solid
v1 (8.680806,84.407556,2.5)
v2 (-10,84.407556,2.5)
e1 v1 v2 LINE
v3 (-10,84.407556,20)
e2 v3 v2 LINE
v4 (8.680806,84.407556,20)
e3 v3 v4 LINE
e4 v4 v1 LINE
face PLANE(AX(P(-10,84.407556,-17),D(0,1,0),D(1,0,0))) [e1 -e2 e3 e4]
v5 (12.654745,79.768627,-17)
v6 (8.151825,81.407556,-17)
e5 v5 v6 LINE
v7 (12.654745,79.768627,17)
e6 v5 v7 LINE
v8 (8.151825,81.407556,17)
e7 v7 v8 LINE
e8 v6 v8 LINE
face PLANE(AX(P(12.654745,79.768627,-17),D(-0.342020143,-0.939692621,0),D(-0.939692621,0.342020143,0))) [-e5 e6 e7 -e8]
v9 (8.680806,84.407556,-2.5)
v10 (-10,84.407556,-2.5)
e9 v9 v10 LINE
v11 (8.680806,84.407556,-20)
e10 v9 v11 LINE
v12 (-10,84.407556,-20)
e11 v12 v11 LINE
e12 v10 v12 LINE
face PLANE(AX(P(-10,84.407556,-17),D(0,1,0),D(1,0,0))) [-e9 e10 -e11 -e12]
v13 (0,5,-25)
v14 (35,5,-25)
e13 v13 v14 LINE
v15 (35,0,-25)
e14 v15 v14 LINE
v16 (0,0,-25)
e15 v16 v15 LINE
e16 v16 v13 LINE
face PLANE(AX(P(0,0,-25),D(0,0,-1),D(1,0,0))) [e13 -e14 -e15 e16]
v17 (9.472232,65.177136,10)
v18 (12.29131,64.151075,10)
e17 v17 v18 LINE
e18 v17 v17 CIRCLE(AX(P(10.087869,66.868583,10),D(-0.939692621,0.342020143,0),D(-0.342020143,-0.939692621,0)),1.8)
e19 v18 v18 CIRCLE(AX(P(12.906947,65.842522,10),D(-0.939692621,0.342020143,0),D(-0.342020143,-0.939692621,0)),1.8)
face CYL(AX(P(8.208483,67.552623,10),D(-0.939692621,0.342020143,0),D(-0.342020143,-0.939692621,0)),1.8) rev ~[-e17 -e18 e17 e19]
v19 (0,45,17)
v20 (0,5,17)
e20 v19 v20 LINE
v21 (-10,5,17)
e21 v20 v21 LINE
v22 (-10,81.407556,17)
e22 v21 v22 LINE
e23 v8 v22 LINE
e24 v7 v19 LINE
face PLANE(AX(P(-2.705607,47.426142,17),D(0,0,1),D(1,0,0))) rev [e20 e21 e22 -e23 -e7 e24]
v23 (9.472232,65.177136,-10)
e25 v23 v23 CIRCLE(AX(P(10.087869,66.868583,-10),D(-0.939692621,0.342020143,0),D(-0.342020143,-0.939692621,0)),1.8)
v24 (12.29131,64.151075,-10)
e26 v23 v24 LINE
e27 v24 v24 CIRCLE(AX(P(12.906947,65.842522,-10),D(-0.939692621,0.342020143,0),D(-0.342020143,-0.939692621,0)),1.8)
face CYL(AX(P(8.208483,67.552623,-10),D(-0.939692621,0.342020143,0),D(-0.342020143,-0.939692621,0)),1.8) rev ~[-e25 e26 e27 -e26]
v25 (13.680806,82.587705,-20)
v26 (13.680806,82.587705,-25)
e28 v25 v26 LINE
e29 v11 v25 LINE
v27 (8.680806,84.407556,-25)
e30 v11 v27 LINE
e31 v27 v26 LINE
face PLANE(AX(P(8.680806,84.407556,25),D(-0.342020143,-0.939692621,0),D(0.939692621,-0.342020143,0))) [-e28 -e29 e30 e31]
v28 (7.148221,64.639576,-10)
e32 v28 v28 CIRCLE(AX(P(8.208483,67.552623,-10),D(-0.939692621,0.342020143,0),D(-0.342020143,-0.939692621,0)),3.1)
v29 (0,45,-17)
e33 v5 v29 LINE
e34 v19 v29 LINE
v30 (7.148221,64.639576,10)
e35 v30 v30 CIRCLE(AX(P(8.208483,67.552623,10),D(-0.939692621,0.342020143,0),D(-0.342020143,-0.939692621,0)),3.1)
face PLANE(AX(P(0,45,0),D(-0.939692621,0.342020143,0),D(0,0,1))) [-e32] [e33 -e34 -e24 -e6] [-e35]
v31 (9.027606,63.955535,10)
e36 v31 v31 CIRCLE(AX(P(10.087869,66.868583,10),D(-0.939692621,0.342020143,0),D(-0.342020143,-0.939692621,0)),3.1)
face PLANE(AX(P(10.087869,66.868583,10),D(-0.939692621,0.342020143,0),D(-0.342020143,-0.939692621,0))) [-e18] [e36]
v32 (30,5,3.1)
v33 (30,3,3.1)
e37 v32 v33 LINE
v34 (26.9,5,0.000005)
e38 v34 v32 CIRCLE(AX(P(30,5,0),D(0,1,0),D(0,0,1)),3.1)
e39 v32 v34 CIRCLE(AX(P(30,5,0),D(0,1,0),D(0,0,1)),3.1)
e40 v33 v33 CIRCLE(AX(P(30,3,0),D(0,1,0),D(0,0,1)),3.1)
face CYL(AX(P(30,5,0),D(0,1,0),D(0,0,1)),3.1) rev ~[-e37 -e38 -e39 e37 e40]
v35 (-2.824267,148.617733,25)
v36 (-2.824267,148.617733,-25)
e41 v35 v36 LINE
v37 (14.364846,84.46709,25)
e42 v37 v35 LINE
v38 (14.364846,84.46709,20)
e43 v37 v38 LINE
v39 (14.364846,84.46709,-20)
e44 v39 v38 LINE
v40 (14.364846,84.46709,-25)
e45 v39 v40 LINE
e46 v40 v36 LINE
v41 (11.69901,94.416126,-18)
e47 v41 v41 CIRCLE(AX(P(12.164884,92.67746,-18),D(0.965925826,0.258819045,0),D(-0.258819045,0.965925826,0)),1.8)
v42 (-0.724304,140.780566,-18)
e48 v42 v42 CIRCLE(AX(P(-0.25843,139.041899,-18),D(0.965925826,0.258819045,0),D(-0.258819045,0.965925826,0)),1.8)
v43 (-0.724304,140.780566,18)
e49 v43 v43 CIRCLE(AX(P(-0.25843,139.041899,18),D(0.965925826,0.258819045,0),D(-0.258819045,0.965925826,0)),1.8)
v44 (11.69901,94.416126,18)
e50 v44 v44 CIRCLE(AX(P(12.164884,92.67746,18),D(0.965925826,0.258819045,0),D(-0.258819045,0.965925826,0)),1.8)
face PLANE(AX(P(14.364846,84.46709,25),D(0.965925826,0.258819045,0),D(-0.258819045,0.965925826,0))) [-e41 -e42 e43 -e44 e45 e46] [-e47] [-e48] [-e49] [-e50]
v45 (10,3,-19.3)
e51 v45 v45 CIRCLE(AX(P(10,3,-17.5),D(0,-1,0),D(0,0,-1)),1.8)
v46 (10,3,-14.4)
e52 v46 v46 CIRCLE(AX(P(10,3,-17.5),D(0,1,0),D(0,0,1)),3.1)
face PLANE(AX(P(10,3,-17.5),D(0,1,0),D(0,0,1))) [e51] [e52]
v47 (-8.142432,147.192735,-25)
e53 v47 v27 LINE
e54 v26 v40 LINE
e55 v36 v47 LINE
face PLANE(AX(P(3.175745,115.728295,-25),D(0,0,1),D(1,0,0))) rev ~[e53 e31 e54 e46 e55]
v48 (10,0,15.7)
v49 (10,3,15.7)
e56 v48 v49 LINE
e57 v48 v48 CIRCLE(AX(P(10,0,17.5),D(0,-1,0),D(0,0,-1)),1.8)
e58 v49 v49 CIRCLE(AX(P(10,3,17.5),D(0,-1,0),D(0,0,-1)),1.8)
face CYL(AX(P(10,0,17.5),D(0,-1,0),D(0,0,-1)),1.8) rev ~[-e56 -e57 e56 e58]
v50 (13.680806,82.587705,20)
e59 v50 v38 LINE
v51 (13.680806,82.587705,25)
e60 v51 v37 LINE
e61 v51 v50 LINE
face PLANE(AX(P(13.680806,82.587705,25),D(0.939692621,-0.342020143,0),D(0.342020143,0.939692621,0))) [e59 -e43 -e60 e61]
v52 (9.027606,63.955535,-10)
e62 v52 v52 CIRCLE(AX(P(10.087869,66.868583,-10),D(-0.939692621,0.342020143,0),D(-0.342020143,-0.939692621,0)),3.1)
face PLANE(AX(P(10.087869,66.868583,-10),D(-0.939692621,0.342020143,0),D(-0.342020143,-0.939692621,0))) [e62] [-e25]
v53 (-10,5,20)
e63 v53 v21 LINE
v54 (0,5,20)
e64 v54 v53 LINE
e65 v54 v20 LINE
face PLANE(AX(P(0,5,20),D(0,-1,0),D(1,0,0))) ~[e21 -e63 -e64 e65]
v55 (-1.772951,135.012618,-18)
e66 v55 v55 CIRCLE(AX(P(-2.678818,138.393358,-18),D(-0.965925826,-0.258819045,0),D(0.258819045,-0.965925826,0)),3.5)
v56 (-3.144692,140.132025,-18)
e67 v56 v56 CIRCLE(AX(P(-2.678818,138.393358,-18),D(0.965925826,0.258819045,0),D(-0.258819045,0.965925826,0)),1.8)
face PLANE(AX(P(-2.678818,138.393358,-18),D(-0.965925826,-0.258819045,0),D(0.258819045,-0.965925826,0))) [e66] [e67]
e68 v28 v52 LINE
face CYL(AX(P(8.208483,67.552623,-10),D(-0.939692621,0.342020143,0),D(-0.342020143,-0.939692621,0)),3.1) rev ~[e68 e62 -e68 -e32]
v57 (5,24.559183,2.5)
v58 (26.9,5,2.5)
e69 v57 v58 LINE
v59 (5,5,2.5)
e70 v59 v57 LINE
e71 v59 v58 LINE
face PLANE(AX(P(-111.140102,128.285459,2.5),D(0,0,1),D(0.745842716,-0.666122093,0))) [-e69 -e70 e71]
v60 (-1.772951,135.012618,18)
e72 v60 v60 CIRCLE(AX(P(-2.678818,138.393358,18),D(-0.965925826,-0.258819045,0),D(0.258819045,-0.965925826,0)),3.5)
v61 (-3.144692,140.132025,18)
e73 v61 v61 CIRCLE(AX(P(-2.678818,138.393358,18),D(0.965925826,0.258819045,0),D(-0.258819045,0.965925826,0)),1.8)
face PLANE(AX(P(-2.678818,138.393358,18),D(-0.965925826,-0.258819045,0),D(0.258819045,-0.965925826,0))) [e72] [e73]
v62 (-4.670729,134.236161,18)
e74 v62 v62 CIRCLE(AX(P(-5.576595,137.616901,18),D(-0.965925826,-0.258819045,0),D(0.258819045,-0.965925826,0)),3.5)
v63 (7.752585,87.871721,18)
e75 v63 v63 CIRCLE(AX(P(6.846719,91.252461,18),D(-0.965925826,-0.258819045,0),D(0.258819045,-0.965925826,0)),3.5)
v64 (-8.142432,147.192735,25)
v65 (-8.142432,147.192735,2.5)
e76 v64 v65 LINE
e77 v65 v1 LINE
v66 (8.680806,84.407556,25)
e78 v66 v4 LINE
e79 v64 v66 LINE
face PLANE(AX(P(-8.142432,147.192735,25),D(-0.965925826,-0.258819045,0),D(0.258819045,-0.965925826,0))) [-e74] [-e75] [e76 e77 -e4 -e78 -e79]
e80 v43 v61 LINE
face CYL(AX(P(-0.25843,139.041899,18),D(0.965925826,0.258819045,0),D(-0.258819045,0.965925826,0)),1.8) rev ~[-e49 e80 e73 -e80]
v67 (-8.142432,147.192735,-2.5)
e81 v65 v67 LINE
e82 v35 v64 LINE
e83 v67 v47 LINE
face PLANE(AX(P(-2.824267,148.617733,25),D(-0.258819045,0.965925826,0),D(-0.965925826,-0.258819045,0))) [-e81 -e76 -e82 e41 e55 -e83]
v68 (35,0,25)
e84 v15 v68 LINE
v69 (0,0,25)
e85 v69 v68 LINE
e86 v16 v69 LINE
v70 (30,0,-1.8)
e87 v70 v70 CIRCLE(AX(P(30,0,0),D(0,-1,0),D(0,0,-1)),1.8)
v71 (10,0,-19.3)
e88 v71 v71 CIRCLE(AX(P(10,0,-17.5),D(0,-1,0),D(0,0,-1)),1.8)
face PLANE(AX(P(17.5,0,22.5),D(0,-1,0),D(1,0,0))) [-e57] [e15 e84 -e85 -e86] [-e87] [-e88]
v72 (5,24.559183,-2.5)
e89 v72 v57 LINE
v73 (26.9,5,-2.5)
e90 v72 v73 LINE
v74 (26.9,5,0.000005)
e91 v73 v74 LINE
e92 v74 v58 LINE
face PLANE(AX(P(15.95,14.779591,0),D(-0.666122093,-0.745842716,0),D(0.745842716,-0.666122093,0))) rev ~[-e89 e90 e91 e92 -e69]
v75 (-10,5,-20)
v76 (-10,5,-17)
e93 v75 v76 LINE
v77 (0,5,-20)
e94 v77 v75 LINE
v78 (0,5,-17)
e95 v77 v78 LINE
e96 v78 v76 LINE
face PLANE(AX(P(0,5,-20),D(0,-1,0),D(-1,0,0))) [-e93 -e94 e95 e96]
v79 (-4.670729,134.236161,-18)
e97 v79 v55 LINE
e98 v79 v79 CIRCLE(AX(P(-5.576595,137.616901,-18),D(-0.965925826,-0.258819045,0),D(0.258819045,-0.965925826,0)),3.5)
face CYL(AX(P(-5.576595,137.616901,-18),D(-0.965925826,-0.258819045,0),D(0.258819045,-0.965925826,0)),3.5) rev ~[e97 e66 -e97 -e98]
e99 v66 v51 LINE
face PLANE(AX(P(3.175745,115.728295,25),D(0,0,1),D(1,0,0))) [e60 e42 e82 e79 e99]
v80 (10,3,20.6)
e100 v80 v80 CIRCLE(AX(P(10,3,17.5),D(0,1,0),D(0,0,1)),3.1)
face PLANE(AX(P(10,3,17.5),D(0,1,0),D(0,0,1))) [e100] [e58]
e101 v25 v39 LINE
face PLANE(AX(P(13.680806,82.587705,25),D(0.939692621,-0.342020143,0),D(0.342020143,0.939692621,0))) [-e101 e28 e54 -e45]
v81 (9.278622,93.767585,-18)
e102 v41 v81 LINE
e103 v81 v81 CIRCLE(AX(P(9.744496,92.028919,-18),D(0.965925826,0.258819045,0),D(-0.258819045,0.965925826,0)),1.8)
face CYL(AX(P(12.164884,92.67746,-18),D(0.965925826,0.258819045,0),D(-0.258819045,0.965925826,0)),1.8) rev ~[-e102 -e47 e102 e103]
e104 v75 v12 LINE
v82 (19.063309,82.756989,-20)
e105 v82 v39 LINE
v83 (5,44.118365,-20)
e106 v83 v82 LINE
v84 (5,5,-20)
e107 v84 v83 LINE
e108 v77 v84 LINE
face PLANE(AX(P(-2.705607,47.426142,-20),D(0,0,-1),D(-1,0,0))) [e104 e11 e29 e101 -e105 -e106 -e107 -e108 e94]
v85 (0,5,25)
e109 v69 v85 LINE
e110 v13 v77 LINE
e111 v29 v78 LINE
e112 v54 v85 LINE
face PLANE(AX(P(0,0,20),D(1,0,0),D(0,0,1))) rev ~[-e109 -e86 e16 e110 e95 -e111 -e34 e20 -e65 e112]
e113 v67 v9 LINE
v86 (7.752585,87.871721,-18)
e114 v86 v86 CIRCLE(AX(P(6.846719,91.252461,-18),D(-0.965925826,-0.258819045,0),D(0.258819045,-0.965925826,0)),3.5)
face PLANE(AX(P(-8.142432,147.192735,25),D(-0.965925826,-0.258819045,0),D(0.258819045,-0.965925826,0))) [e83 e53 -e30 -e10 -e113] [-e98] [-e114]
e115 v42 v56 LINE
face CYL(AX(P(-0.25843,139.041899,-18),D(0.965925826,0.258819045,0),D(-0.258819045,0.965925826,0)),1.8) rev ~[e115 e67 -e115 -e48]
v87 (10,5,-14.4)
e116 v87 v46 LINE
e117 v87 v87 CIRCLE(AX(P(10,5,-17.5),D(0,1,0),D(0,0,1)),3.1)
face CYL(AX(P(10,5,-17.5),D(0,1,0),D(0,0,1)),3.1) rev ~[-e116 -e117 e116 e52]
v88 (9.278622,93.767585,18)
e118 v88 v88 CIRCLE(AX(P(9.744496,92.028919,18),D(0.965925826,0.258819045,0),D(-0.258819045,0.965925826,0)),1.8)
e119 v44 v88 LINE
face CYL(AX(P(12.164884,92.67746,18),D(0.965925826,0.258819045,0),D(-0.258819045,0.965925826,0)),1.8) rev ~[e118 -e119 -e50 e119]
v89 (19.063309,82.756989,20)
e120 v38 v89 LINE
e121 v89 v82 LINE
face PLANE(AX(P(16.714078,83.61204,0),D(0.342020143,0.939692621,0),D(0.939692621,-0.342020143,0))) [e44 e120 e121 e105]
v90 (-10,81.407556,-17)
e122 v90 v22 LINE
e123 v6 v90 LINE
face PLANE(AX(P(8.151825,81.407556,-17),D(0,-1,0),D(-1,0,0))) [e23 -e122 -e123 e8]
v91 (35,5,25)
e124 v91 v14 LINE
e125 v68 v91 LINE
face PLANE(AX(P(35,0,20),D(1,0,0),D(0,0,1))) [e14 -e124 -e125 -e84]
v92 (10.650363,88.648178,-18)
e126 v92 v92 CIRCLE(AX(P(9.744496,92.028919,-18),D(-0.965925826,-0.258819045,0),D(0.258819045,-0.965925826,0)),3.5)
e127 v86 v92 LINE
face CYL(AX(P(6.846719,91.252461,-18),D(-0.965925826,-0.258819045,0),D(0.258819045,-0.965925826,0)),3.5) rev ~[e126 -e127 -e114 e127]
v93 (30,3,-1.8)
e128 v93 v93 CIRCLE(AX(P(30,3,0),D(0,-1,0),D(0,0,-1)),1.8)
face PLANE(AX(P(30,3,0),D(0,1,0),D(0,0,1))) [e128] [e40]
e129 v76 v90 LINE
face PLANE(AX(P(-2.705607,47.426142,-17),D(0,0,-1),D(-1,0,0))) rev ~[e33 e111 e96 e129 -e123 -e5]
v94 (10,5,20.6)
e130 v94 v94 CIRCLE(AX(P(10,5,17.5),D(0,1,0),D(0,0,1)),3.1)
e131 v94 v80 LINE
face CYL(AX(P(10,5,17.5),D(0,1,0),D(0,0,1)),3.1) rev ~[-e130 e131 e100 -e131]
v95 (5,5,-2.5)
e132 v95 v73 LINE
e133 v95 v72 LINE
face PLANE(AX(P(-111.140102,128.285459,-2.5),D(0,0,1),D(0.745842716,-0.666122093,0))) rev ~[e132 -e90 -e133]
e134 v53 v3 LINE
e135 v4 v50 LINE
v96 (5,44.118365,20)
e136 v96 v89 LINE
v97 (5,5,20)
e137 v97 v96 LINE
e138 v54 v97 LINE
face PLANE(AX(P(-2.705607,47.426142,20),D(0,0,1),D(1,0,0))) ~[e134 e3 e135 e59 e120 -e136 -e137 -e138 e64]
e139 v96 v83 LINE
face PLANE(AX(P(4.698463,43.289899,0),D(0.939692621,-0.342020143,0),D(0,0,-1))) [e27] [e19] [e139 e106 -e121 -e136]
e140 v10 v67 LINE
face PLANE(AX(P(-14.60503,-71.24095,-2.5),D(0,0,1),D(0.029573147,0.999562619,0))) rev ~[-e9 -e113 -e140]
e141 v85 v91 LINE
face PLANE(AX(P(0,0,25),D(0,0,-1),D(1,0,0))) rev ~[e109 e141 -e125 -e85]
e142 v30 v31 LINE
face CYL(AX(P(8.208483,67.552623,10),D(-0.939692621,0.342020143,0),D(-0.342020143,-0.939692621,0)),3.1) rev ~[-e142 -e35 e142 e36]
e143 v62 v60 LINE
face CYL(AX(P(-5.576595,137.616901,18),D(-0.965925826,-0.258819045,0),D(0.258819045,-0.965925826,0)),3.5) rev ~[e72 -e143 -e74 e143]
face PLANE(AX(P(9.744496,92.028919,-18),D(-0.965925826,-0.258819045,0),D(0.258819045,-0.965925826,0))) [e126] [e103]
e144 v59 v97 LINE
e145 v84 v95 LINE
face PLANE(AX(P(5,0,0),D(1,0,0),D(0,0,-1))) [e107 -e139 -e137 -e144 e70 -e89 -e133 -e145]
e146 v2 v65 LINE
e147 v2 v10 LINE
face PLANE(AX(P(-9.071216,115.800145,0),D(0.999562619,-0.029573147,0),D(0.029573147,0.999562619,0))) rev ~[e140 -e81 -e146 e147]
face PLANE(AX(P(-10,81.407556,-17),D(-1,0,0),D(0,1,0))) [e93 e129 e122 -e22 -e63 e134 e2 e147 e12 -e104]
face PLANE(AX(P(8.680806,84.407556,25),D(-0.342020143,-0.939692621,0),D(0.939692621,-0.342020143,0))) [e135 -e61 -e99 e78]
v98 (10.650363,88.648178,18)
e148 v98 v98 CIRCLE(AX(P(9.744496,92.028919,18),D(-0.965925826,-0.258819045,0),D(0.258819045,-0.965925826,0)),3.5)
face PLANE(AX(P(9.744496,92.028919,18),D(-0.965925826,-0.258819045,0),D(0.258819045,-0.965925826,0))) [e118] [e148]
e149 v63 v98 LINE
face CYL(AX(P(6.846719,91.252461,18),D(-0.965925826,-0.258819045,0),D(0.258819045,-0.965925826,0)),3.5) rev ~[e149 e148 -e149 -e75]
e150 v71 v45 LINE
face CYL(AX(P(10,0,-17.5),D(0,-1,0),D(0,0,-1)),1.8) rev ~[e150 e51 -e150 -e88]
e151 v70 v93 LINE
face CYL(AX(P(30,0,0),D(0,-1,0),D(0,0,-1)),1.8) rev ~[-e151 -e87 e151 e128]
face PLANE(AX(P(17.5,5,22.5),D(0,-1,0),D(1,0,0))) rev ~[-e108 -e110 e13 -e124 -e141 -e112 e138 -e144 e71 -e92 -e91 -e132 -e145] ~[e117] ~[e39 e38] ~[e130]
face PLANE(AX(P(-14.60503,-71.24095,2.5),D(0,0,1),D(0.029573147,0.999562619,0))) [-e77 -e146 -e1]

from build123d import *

# Parameters (mm, degrees)
SKETCH_2_W           = 5
SKETCH_2_H           = 40
CUT_EXTRUDE_1_REACH  = 90.301
SKETCH_3_R           = 1.8
SKETCH_6_W           = 30
SKETCH_6_H           = 40
EXTRUDE_1_DEPTH      = 5
CUT_EXTRUDE_2_REACH  = 95.593
SKETCH_8_R           = 1.8
SKETCH_9_W           = 35
SKETCH_9_H           = 5
EXTRUDE_2_DEPTH      = 5
SKETCH_10_R          = 3.1
CUT_EXTRUDE_3_DEPTH  = 2
SKETCH_11_R          = 3.1
CUT_EXTRUDE_4_DEPTH  = 2
EXTRUDE_4_DEPTH      = 3
EXTRUDE_5_DEPTH      = 25
EXTRUDE_5_DEPTH_BACK = 25
CUT_EXTRUDE_5_REACH  = 150.427
SKETCH_17_R          = 1.8
SKETCH_18_R          = 3.5
CUT_EXTRUDE_6_DEPTH  = 3
EXTRUDE_6_DEPTH      = 34
RIB_4_REACH          = 156.717
SKETCH_20_WALL_W     = 374.245878862
SKETCH_20_WALL_H     = 5
RIB_5_REACH          = 156.717
SKETCH_21_WALL_W     = 340.795986182
SKETCH_21_WALL_H     = 5


with BuildPart() as part:
    # 扫描1: sweep along a path in 草图1
    with BuildLine(Plane.XY) as sweep_1_path:
        Line((0, 0), (0, 45))
        Line((0, 45), (14.36484602, 84.467090073))
    # 草图2 → 扫描1 (sweep)
    with BuildSketch(Plane(origin=(0, 0, 0), x_dir=(1, 0, 0), z_dir=(0, 1, 0))):
        with Locations((2.5, 0)):
            Rectangle(SKETCH_2_W, SKETCH_2_H)
    sweep(path=sweep_1_path.line, transition=Transition.RIGHT)

    # 草图3 → 切除-拉伸1 (cut, up to next)
    with BuildSketch(Plane(origin=(-14.462721218, 5.26400003, 0), x_dir=(0, 0, 1), z_dir=(-0.9396926207859081, 0.3420201433256695, 0)), mode=Mode.PRIVATE) as cut_extrude_1_sk1:
        with Locations(Location((-10, 66.286167935, 0), (0, 0, 270))):
            Circle(SKETCH_3_R)
    cut_extrude_1_tool1 = extrude(cut_extrude_1_sk1.sketch, amount=-CUT_EXTRUDE_1_REACH, mode=Mode.PRIVATE) & part.part
    # 草图3 → 切除-拉伸1 (cut, up to next)
    with BuildSketch(Plane(origin=(-14.462721218, 5.26400003, 0), x_dir=(0, 0, 1), z_dir=(-0.9396926207859081, 0.3420201433256695, 0)), mode=Mode.PRIVATE) as cut_extrude_1_sk2:
        with Locations(Location((10, 66.286167935, 0), (0, 0, 270))):
            Circle(SKETCH_3_R)
    cut_extrude_1_tool2 = extrude(cut_extrude_1_sk2.sketch, amount=-CUT_EXTRUDE_1_REACH, mode=Mode.PRIVATE) & part.part
    add(cut_extrude_1_tool1.solids().sort_by_distance((8.208483, 67.552623, -10))[0], mode=Mode.SUBTRACT)
    add(cut_extrude_1_tool2.solids().sort_by_distance((8.208483, 67.552623, 10))[0], mode=Mode.SUBTRACT)

    # 草图6 → 凸台-拉伸1 (add)
    with BuildSketch(Plane.XZ):
        with Locations((20, 0)):
            Rectangle(SKETCH_6_W, SKETCH_6_H)
    extrude(amount=-EXTRUDE_1_DEPTH)

    # 草图8 → 切除-拉伸2 (cut, up to next)
    with BuildSketch(Plane.XZ, mode=Mode.PRIVATE) as cut_extrude_2_sk1:
        with Locations(Location((10, 17.5, 0), (0, 0, 270))):
            Circle(SKETCH_8_R)
    cut_extrude_2_tool1 = extrude(cut_extrude_2_sk1.sketch, amount=-CUT_EXTRUDE_2_REACH, mode=Mode.PRIVATE) & part.part
    # 草图8 → 切除-拉伸2 (cut, up to next)
    with BuildSketch(Plane.XZ, mode=Mode.PRIVATE) as cut_extrude_2_sk2:
        with Locations(Location((10, -17.5, 0), (0, 0, 270))):
            Circle(SKETCH_8_R)
    cut_extrude_2_tool2 = extrude(cut_extrude_2_sk2.sketch, amount=-CUT_EXTRUDE_2_REACH, mode=Mode.PRIVATE) & part.part
    # 草图8 → 切除-拉伸2 (cut, up to next)
    with BuildSketch(Plane.XZ, mode=Mode.PRIVATE) as cut_extrude_2_sk3:
        with Locations(Location((30, 0, 0), (0, 0, 270))):
            Circle(SKETCH_8_R)
    cut_extrude_2_tool3 = extrude(cut_extrude_2_sk3.sketch, amount=-CUT_EXTRUDE_2_REACH, mode=Mode.PRIVATE) & part.part
    add(cut_extrude_2_tool1.solids().sort_by_distance((10, 0, 17.5))[0], mode=Mode.SUBTRACT)
    add(cut_extrude_2_tool2.solids().sort_by_distance((10, 0, -17.5))[0], mode=Mode.SUBTRACT)
    add(cut_extrude_2_tool3.solids().sort_by_distance((30, 0, 0))[0], mode=Mode.SUBTRACT)

    # 草图9 → 凸台-拉伸2 (add)
    with BuildSketch(Plane.XZ):
        with Locations((17.5, 22.5)):
            Rectangle(SKETCH_9_W, SKETCH_9_H)
        with Locations((17.5, -22.5)):
            Rectangle(SKETCH_9_W, SKETCH_9_H)
    extrude(amount=-EXTRUDE_2_DEPTH)

    # 草图10 → 切除-拉伸3 (cut)
    with BuildSketch(Plane(origin=(0, 5, 0), x_dir=(1, 0, 0), z_dir=(0, 1, 0))):
        with Locations(Location((10, -17.5, 0), (0, 0, 270))):
            Circle(SKETCH_10_R)
        with Locations(Location((10, 17.5, 0), (0, 0, 270))):
            Circle(SKETCH_10_R)
        with Locations(Location((30, 0, 0), (0, 0, 270))):
            Circle(SKETCH_10_R)
    extrude(amount=-CUT_EXTRUDE_3_DEPTH, mode=Mode.SUBTRACT)

    # 草图11 → 切除-拉伸4 (cut)
    with BuildSketch(Plane(origin=(-14.462721218, 5.26400003, 0), x_dir=(0, 0, 1), z_dir=(-0.9396926207859081, 0.3420201433256695, 0))):
        with Locations(Location((-10, 66.286167935, 0), (0, 0, 270))):
            Circle(SKETCH_11_R)
        with Locations(Location((10, 66.286167935, 0), (0, 0, 270))):
            Circle(SKETCH_11_R)
    extrude(amount=-CUT_EXTRUDE_4_DEPTH, mode=Mode.SUBTRACT)

    # 草图15 → 凸台-拉伸4 (add)
    with BuildSketch(Plane(origin=(0, 0, -20), x_dir=(-1, 0, 0), z_dir=(0, 0, -1))):
        Polygon((-8.680805733, 84.407556003), (-13.680805733, 82.587704831), (0, 45), (0, 5), (10, 5), (10, 84.407556003), align=None)
    extrude_4 = extrude(amount=-EXTRUDE_4_DEPTH)

    # 镜向2: 凸台-拉伸4 across plane
    add(extrude_4.mirror(Plane(origin=(0, 0, 0), x_dir=(1, 0, 0), z_dir=(0, 0, -1))))

    # 草图16 → 凸台-拉伸5 (add, two sides: drawn at the far end of the back side and taken through both)
    with BuildSketch(Plane(origin=(0, 0, 0), x_dir=(-1, 0, 0), z_dir=(0, 0, -1)).offset(-EXTRUDE_5_DEPTH_BACK)):
        Polygon((-14.36484602, 84.467090073), (2.824266896, 148.61773281), (8.142432199, 147.192734712), (-8.680805733, 84.407556003), (-13.680805733, 82.587704831), align=None)
    extrude(amount=EXTRUDE_5_DEPTH + EXTRUDE_5_DEPTH_BACK)

    # 草图17 → 切除-拉伸5 (cut, up to next)
    with BuildSketch(Plane(origin=(34.519356315, 9.249433648, 0), x_dir=(0, 0, -1), z_dir=(0.9659258262890672, 0.2588190451025248, 0)), mode=Mode.PRIVATE) as cut_extrude_5_sk1:
        with Locations(Location((-18, 134.371048043, 0), (0, 0, 90))):
            Circle(SKETCH_17_R)
    cut_extrude_5_tool1 = extrude(cut_extrude_5_sk1.sketch, amount=-CUT_EXTRUDE_5_REACH, mode=Mode.PRIVATE) & part.part
    # 草图17 → 切除-拉伸5 (cut, up to next)
    with BuildSketch(Plane(origin=(34.519356315, 9.249433648, 0), x_dir=(0, 0, -1), z_dir=(0.9659258262890672, 0.2588190451025248, 0)), mode=Mode.PRIVATE) as cut_extrude_5_sk2:
        with Locations(Location((18, 134.371048043, 0), (0, 0, 90))):
            Circle(SKETCH_17_R)
    cut_extrude_5_tool2 = extrude(cut_extrude_5_sk2.sketch, amount=-CUT_EXTRUDE_5_REACH, mode=Mode.PRIVATE) & part.part
    # 草图17 → 切除-拉伸5 (cut, up to next)
    with BuildSketch(Plane(origin=(34.519356315, 9.249433648, 0), x_dir=(0, 0, -1), z_dir=(0.9659258262890672, 0.2588190451025248, 0)), mode=Mode.PRIVATE) as cut_extrude_5_sk3:
        with Locations(Location((18, 86.371048043, 0), (0, 0, 90))):
            Circle(SKETCH_17_R)
    cut_extrude_5_tool3 = extrude(cut_extrude_5_sk3.sketch, amount=-CUT_EXTRUDE_5_REACH, mode=Mode.PRIVATE) & part.part
    # 草图17 → 切除-拉伸5 (cut, up to next)
    with BuildSketch(Plane(origin=(34.519356315, 9.249433648, 0), x_dir=(0, 0, -1), z_dir=(0.9659258262890672, 0.2588190451025248, 0)), mode=Mode.PRIVATE) as cut_extrude_5_sk4:
        with Locations(Location((-18, 86.371048043, 0), (0, 0, 90))):
            Circle(SKETCH_17_R)
    cut_extrude_5_tool4 = extrude(cut_extrude_5_sk4.sketch, amount=-CUT_EXTRUDE_5_REACH, mode=Mode.PRIVATE) & part.part
    add(cut_extrude_5_tool1.solids().sort_by_distance((-0.25843, 139.041899, 18))[0], mode=Mode.SUBTRACT)
    add(cut_extrude_5_tool2.solids().sort_by_distance((-0.25843, 139.041899, -18))[0], mode=Mode.SUBTRACT)
    add(cut_extrude_5_tool3.solids().sort_by_distance((12.164884, 92.67746, -18))[0], mode=Mode.SUBTRACT)
    add(cut_extrude_5_tool4.solids().sort_by_distance((12.164884, 92.67746, 18))[0], mode=Mode.SUBTRACT)

    # 草图18 → 切除-拉伸6 (cut)
    with BuildSketch(Plane(origin=(29.201191012, 7.82443555, 0), x_dir=(0, 0, 1), z_dir=(-0.9659258262890674, -0.2588190451025246, 0))):
        with Locations(Location((-18, 134.371048043, 0), (0, 0, 270))):
            Circle(SKETCH_18_R)
        with Locations(Location((18, 134.371048043, 0), (0, 0, 270))):
            Circle(SKETCH_18_R)
        with Locations(Location((18, 86.371048043, 0), (0, 0, 270))):
            Circle(SKETCH_18_R)
        with Locations(Location((-18, 86.371048043, 0), (0, 0, 270))):
            Circle(SKETCH_18_R)
    extrude(amount=-CUT_EXTRUDE_6_DEPTH, mode=Mode.SUBTRACT)

    # 草图19 → 凸台-拉伸6 (add)
    with BuildSketch(Plane.XY.offset(-17)):
        Polygon((12.654745303, 79.768626969), (8.151824791, 81.407556003), (-10, 81.407556003), (-10, 84.407556003), (8.680805733, 84.407556003), (13.680805733, 82.587704831), align=None)
    extrude(amount=EXTRUDE_6_DEPTH)

    # 草图20 wall → 筋4 (add, up to next)
    with BuildSketch(Plane(origin=(-9.071216099, 115.800145357, 0), x_dir=(0.029573147262, 0.999562618829, 0), z_dir=(0.999562618829, -0.029573147262, 0)), mode=Mode.PRIVATE) as rib_4_sk1:
        Rectangle(SKETCH_20_WALL_W, SKETCH_20_WALL_H)
    rib_4_tool1 = extrude(rib_4_sk1.sketch, amount=RIB_4_REACH, mode=Mode.PRIVATE) - part.part
    add(rib_4_tool1.solids().sort_by_distance((-9.071216099, 115.800145357, 0))[0])

    # 草图21 wall → 筋5 (add, up to next)
    with BuildSketch(Plane(origin=(15.95, 14.779591274, 0), x_dir=(0.745842716131, -0.666122093009, 0), z_dir=(-0.666122093009, -0.745842716131, 0)), mode=Mode.PRIVATE) as rib_5_sk1:
        Rectangle(SKETCH_21_WALL_W, SKETCH_21_WALL_H)
    rib_5_tool1 = extrude(rib_5_sk1.sketch, amount=RIB_5_REACH, mode=Mode.PRIVATE) - part.part
    add(rib_5_tool1.solids().sort_by_distance((15.95, 14.779591274, 0))[0])


solid = part.part
